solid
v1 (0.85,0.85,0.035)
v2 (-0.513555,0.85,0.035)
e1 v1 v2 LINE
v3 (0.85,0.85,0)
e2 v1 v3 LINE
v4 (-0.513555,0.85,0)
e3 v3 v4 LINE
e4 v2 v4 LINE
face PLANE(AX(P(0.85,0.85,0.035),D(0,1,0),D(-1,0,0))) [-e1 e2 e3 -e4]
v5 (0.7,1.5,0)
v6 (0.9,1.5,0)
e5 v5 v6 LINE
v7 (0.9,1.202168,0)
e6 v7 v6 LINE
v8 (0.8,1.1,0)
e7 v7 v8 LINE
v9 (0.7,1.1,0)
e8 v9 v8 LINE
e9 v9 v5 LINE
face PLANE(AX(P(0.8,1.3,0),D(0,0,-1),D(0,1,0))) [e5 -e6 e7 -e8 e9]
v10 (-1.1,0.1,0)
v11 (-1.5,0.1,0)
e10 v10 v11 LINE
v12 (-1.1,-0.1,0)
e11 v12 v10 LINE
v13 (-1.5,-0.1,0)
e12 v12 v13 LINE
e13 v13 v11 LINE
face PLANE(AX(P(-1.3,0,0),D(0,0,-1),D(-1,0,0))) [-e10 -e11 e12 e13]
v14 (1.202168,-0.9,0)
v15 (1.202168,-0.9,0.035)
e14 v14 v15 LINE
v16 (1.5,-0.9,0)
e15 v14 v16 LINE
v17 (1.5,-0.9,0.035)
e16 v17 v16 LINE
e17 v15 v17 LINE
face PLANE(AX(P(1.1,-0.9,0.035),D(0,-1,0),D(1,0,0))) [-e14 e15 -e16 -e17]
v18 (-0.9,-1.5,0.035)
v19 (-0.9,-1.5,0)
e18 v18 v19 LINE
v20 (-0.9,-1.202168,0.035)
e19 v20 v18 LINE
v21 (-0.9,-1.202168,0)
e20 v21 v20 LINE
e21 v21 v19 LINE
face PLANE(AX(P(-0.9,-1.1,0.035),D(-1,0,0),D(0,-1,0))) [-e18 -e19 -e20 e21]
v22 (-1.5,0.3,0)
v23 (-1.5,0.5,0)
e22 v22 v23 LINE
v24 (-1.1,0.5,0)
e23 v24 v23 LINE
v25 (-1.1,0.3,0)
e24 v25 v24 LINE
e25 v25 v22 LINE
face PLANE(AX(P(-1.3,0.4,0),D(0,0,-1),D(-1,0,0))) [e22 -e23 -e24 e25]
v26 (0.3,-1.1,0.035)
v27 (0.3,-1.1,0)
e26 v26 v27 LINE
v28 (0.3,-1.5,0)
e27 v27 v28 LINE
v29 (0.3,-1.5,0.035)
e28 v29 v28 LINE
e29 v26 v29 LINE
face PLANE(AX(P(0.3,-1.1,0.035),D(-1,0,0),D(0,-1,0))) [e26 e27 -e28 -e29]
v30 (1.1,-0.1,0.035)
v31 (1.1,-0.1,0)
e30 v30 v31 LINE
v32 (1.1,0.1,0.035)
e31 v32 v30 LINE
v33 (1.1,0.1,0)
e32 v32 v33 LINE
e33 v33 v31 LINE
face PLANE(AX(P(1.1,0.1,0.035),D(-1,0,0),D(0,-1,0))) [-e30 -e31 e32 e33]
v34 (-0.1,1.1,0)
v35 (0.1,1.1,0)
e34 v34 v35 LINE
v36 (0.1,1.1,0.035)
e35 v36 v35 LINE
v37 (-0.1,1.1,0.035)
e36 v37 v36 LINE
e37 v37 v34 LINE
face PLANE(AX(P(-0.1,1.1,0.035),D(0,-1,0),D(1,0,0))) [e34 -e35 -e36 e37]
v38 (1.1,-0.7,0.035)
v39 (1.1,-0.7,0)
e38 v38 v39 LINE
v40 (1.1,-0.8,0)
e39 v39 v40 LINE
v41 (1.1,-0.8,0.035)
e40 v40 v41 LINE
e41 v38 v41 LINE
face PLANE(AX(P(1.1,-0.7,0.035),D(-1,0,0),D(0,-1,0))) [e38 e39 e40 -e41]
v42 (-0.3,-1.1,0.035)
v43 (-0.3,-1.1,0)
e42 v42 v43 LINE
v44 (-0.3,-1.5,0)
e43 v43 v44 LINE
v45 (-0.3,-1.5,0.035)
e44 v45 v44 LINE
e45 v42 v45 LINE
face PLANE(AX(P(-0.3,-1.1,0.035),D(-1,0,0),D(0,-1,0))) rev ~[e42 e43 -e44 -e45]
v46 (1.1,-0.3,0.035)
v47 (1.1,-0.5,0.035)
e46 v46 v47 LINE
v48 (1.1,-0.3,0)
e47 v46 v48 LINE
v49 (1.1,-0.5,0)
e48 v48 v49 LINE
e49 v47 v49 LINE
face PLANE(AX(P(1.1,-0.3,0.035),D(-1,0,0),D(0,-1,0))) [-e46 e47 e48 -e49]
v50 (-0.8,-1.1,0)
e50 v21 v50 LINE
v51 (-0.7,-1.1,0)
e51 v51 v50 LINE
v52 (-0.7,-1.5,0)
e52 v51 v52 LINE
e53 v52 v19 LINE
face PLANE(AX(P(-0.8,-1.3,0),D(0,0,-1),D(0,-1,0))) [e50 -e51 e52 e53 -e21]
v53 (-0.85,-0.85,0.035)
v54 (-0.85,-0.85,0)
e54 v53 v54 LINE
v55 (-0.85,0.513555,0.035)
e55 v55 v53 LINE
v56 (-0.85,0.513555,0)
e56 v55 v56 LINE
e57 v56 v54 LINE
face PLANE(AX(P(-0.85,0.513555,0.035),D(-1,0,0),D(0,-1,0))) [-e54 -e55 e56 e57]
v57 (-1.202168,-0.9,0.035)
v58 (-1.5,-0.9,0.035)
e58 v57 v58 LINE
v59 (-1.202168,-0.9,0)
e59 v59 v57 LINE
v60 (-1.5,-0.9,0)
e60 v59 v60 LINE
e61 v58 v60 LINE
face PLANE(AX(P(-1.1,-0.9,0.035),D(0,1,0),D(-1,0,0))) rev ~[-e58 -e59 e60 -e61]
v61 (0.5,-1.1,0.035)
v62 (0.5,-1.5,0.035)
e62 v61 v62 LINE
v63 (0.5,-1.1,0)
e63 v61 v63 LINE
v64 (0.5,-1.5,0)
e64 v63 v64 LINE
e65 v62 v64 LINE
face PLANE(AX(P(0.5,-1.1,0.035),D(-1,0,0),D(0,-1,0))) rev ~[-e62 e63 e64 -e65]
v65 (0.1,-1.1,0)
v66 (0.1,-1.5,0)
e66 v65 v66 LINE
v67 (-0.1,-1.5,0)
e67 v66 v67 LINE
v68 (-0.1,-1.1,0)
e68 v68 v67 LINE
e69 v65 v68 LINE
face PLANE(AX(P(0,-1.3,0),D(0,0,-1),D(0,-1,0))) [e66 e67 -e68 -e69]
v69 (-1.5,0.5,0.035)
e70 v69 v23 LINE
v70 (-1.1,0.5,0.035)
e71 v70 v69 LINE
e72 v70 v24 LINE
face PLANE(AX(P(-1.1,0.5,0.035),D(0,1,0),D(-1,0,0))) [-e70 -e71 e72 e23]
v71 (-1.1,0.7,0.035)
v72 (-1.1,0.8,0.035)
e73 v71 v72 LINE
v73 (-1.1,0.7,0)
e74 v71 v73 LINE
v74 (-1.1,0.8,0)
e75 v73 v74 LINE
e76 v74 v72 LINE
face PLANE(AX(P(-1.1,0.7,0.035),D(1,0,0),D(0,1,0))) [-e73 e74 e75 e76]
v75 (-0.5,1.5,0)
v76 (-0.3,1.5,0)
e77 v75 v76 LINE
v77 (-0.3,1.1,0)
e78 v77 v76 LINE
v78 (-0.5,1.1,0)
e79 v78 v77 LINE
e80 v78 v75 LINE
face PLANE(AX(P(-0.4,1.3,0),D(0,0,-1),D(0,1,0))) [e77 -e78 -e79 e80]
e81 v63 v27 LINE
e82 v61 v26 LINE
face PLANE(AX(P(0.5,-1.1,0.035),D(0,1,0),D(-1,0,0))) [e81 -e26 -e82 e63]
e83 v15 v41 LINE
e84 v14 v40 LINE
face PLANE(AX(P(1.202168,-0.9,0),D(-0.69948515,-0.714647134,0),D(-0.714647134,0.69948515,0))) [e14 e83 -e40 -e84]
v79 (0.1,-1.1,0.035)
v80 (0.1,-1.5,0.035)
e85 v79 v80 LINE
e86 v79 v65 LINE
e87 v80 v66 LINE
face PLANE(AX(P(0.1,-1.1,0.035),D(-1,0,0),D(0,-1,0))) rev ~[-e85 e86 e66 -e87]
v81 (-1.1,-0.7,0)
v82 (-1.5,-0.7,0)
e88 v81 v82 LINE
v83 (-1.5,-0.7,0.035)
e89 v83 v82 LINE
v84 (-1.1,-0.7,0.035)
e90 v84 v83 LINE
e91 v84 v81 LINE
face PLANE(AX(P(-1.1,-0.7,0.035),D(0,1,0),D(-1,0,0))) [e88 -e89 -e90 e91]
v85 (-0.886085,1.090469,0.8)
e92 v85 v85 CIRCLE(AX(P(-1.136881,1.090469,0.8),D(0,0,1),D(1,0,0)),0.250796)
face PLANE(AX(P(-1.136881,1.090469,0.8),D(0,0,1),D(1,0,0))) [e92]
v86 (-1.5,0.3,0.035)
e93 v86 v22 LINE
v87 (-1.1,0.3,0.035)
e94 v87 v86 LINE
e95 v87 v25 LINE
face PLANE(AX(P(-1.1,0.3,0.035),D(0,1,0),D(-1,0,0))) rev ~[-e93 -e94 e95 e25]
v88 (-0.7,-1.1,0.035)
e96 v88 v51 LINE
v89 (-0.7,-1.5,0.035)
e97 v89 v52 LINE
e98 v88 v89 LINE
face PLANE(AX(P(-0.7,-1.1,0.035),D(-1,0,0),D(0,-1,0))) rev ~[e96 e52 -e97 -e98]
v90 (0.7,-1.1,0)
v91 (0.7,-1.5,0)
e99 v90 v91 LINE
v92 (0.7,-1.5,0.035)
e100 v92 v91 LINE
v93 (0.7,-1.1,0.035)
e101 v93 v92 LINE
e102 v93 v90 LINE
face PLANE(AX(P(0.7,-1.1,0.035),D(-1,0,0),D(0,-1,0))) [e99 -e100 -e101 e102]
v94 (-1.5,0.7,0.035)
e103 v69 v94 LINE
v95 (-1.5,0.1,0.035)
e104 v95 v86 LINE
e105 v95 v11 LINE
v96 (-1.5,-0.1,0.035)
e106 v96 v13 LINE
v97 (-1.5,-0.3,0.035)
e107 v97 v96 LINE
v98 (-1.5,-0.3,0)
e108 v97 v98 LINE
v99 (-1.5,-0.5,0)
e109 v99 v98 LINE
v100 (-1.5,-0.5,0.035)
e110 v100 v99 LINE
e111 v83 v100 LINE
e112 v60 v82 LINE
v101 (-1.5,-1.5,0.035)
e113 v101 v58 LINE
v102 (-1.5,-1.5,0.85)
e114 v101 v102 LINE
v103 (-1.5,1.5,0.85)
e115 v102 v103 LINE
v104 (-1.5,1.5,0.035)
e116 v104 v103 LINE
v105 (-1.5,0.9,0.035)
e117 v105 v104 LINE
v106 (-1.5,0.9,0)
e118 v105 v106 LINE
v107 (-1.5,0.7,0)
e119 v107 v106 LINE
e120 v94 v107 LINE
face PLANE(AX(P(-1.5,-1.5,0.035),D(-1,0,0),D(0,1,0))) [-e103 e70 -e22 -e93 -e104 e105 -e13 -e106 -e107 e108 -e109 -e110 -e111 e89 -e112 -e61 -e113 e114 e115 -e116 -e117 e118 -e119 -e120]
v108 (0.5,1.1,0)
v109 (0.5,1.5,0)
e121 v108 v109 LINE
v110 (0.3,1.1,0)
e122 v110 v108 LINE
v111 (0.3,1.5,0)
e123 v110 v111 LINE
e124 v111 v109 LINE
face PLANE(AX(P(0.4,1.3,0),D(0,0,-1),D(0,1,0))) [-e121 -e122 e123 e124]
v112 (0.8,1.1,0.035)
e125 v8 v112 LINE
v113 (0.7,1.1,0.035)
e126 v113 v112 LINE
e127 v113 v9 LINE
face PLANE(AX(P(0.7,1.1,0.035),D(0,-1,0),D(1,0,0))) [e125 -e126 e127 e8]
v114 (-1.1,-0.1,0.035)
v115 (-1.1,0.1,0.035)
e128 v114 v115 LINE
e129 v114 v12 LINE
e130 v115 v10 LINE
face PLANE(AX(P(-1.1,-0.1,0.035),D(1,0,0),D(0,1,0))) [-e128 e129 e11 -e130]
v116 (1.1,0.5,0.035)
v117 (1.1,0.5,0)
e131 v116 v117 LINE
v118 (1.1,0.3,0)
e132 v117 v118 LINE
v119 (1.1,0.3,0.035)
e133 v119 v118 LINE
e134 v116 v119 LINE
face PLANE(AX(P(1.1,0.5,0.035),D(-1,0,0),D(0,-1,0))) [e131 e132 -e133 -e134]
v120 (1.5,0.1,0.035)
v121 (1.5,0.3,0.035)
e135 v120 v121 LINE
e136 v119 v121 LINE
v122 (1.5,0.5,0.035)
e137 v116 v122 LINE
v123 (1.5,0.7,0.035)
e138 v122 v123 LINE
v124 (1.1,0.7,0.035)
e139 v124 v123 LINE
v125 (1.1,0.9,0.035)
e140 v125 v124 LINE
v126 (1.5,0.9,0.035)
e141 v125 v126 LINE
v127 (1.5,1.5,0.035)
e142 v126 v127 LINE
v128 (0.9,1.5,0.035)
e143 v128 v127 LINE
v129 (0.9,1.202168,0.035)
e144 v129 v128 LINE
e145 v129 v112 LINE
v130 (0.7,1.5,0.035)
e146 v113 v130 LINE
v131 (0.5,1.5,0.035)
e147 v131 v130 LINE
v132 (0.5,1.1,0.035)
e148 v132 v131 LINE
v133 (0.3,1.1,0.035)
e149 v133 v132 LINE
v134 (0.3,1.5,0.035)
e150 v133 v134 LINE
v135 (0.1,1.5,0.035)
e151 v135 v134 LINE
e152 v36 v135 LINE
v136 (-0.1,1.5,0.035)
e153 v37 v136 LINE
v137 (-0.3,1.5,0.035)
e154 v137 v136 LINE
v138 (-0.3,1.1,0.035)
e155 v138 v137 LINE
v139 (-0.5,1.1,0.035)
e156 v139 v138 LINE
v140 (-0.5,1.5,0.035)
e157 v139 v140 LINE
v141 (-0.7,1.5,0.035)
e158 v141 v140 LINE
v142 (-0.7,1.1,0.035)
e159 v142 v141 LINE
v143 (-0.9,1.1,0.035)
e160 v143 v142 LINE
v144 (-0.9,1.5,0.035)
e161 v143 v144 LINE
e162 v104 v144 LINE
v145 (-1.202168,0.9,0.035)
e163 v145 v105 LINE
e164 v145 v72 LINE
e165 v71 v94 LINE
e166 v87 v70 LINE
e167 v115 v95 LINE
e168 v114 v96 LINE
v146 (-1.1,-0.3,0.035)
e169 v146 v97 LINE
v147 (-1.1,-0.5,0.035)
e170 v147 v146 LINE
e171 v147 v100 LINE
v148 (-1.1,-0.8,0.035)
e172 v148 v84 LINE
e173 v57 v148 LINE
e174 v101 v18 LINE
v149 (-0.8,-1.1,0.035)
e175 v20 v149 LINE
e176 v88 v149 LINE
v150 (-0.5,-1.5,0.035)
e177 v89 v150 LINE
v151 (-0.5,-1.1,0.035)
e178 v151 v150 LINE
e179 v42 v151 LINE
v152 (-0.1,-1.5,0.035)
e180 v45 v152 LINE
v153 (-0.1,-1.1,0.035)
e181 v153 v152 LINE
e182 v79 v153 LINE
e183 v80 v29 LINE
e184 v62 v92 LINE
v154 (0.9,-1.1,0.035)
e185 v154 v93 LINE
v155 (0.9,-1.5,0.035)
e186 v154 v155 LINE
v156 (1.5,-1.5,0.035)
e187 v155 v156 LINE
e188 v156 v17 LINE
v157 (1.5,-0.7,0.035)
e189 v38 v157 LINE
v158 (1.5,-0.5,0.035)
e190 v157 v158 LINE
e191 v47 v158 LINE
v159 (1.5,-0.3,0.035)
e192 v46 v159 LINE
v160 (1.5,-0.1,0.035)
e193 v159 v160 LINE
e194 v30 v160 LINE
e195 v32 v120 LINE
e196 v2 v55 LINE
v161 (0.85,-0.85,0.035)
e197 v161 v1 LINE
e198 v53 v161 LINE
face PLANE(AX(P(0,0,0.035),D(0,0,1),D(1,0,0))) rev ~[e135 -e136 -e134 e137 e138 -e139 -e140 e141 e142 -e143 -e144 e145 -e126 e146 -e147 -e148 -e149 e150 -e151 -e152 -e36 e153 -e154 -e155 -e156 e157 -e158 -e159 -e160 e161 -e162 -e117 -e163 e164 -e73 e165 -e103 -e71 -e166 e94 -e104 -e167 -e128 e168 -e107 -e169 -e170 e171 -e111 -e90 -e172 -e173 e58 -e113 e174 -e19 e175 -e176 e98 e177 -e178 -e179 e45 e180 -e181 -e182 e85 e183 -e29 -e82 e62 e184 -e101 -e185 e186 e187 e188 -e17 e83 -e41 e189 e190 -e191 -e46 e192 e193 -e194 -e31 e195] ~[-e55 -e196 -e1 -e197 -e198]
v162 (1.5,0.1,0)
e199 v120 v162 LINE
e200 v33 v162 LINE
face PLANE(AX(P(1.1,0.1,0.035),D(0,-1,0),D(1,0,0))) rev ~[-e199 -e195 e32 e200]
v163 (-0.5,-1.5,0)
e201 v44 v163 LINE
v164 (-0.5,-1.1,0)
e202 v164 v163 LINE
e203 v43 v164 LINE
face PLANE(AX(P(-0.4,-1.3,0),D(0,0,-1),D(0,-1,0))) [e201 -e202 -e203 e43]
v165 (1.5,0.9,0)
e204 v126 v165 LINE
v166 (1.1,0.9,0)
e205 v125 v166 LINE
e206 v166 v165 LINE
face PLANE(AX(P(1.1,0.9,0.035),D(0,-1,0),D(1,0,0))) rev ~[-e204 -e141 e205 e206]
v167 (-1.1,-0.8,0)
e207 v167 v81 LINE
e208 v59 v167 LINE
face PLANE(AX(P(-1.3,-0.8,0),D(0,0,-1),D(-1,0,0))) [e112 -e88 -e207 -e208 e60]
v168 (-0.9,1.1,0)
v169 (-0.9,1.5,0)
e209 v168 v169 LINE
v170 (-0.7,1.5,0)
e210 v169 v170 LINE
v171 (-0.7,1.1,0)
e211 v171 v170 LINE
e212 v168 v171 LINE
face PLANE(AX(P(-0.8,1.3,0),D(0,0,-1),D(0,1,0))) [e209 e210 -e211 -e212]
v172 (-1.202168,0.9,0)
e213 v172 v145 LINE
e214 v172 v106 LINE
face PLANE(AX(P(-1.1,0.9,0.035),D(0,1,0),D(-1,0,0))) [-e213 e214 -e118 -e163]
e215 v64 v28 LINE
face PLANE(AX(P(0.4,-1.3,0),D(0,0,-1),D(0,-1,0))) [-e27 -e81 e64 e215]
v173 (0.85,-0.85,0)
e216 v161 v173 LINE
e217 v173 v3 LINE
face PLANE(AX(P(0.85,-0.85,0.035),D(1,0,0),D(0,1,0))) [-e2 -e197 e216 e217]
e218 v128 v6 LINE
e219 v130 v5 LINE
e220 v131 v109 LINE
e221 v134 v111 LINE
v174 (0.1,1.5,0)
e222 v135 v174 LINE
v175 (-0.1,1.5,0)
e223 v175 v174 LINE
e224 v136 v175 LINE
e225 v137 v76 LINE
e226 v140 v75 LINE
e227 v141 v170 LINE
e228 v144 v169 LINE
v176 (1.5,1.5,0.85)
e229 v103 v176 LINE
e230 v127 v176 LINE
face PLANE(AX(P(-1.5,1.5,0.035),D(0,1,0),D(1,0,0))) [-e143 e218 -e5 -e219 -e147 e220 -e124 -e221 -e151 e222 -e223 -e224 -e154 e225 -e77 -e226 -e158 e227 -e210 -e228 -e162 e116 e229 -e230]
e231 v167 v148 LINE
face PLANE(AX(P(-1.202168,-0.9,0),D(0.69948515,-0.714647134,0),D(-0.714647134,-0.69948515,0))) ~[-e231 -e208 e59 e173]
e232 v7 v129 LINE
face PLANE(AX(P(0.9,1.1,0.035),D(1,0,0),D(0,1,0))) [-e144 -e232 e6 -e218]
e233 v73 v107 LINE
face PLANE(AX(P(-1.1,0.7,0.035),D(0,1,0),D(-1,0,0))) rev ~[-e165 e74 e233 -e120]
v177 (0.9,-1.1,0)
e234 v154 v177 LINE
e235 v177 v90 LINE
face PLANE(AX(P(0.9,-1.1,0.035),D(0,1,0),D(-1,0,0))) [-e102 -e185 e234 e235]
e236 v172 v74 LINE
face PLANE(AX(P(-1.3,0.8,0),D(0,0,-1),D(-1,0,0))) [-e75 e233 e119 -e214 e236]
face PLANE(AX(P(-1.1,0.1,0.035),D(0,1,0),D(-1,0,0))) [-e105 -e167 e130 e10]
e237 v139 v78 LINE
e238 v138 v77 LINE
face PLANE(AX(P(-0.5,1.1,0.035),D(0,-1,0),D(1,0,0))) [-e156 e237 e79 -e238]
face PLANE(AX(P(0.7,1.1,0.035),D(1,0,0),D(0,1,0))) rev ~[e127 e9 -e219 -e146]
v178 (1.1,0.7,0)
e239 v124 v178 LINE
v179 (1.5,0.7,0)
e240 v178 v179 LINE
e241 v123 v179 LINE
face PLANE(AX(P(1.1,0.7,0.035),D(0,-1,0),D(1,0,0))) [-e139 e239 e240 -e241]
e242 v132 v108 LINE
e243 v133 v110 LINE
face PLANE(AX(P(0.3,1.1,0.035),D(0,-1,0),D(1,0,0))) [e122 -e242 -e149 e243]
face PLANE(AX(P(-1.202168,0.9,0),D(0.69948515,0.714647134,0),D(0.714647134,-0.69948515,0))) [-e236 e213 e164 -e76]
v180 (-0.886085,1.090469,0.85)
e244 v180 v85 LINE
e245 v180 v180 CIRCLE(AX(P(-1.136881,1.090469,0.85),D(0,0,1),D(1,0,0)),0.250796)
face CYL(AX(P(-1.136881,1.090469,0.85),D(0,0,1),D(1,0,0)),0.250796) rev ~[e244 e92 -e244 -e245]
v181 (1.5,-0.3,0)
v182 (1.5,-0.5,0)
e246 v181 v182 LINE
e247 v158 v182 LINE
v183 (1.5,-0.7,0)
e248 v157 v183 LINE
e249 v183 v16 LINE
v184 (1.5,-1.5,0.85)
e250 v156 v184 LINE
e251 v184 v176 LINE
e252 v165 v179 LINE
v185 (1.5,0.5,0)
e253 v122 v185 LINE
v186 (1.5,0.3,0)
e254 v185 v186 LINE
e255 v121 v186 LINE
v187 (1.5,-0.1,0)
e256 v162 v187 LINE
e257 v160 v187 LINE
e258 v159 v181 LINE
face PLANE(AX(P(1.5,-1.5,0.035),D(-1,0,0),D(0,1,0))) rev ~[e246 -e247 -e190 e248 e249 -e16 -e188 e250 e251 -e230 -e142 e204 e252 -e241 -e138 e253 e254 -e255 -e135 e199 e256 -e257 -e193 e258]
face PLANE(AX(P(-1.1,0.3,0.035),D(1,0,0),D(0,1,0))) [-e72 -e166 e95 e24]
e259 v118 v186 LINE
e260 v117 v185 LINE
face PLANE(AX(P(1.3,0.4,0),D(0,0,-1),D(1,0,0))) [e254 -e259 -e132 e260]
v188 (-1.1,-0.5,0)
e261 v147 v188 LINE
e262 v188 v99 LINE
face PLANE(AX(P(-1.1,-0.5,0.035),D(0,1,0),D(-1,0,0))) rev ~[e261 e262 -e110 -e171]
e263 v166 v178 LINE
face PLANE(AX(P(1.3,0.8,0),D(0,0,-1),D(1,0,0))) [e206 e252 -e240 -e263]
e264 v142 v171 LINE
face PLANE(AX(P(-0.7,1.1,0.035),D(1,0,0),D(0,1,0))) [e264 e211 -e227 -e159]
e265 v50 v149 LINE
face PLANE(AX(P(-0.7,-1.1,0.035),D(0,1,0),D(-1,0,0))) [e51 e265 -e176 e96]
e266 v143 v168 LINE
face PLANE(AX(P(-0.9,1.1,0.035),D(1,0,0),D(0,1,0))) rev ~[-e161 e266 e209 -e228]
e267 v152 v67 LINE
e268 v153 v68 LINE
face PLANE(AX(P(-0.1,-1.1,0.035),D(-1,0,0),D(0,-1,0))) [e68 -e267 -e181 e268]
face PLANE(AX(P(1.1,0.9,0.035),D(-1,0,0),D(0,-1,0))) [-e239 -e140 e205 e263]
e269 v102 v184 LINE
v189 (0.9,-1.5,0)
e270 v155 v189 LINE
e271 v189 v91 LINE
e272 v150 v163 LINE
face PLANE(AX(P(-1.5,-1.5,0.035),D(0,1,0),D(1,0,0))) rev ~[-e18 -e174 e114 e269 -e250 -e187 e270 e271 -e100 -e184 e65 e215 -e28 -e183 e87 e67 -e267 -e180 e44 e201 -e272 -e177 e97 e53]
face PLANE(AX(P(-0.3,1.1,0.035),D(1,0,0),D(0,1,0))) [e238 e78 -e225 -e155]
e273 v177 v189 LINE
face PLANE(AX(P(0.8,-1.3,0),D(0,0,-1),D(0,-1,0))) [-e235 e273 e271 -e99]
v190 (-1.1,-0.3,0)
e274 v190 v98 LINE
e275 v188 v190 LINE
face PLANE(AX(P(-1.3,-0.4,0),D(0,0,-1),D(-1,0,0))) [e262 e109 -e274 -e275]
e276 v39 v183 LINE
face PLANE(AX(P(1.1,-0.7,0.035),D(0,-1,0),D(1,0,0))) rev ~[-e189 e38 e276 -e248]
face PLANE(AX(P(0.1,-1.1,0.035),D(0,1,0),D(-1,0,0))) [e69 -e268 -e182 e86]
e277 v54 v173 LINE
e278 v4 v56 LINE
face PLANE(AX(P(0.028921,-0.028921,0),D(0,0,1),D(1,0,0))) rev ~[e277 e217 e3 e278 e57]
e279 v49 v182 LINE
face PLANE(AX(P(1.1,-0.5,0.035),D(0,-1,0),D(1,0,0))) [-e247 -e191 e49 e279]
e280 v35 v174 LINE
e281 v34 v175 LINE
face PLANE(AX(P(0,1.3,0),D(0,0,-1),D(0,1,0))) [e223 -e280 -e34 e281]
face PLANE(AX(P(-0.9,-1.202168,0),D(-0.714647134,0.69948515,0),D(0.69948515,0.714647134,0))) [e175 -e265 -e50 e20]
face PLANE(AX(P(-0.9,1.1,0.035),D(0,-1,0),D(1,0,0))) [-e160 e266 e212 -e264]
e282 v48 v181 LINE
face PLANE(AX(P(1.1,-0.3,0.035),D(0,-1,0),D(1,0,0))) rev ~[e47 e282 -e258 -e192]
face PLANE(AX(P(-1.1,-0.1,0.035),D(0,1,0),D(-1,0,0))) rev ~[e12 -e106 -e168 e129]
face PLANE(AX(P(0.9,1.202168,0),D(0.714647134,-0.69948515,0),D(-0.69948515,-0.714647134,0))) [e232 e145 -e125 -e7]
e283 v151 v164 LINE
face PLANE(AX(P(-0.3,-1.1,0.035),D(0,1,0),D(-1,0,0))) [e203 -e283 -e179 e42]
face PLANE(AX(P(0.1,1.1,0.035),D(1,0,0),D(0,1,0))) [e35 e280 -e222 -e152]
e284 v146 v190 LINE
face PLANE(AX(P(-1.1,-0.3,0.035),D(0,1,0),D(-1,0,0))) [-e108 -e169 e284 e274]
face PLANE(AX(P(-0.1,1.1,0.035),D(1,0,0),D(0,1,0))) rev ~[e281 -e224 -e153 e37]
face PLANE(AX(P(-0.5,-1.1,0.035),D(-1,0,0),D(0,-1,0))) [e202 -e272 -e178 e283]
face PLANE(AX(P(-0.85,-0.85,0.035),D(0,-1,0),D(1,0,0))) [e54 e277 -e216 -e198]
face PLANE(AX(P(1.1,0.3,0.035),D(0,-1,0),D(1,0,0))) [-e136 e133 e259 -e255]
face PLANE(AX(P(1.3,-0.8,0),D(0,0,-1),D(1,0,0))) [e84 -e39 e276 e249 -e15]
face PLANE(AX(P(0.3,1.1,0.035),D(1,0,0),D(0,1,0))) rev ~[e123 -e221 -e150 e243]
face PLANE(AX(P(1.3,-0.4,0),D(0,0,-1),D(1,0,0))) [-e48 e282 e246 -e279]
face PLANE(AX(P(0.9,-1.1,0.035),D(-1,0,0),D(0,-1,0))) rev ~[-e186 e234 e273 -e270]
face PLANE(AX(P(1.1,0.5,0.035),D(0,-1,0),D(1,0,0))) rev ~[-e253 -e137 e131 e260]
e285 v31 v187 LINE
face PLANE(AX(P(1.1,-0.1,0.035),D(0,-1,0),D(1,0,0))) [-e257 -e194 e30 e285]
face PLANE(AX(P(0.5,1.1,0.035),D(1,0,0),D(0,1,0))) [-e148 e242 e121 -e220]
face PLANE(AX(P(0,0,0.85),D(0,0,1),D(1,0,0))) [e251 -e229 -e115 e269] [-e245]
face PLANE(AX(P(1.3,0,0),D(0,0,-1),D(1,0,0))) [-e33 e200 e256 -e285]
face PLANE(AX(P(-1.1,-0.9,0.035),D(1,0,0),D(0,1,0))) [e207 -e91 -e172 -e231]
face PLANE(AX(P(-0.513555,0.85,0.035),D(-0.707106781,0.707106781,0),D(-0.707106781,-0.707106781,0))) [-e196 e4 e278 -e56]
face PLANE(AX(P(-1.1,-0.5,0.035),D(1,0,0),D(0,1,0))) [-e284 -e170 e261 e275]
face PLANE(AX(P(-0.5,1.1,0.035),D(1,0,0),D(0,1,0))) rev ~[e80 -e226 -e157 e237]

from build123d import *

# Parameters (mm, degrees)
BOSS_EXTRUDE1_START          = 0.035
SKETCH1_W                    = 3
SKETCH1_H                    = 3
BOSS_EXTRUDE1_DEPTH          = 0.815
SKETCH2_R                    = 0.250796372
CUT_EXTRUDE3_DEPTH           = 0.05
SKETCH3_W                    = 0.4
SKETCH3_H                    = 0.2
BOSS_EXTRUDE2_DEPTH          = 0.035
LPATTERN1_COUNT              = 5
LPATTERN1_PITCH              = 0.4
CUT_EXTRUDE4_DEPTH           = 0.035
CIRPATTERN1_COUNT            = 4
CIRPATTERN1_COPY_1_SKETCH_W  = 0.4
CIRPATTERN1_COPY_1_SKETCH_H  = 0.2
CIRPATTERN1_COPY_1_DEPTH     = 0.035
CIRPATTERN1_COPY_2_SKETCH_W  = 0.4
CIRPATTERN1_COPY_2_SKETCH_H  = 0.2
CIRPATTERN1_COPY_2_DEPTH     = 0.035
CIRPATTERN1_COPY_3_SKETCH_W  = 0.4
CIRPATTERN1_COPY_3_SKETCH_H  = 0.2
CIRPATTERN1_COPY_3_DEPTH     = 0.035
CIRPATTERN1_COPY_4_SKETCH_W  = 0.4
CIRPATTERN1_COPY_4_SKETCH_H  = 0.2
CIRPATTERN1_COPY_4_DEPTH     = 0.035
CIRPATTERN1_COPY_5_SKETCH_W  = 0.4
CIRPATTERN1_COPY_5_SKETCH_H  = 0.2
CIRPATTERN1_COPY_5_DEPTH     = 0.035
CIRPATTERN1_COPY_6_SKETCH_W  = 0.4
CIRPATTERN1_COPY_6_SKETCH_H  = 0.2
CIRPATTERN1_COPY_6_DEPTH     = 0.035
CIRPATTERN1_COPY_7_SKETCH_W  = 0.4
CIRPATTERN1_COPY_7_SKETCH_H  = 0.2
CIRPATTERN1_COPY_7_DEPTH     = 0.035
CIRPATTERN1_COPY_8_SKETCH_W  = 0.4
CIRPATTERN1_COPY_8_SKETCH_H  = 0.2
CIRPATTERN1_COPY_8_DEPTH     = 0.035
CIRPATTERN1_COPY_9_SKETCH_W  = 0.4
CIRPATTERN1_COPY_9_SKETCH_H  = 0.2
CIRPATTERN1_COPY_9_DEPTH     = 0.035
CIRPATTERN1_COPY_10_SKETCH_W = 0.4
CIRPATTERN1_COPY_10_SKETCH_H = 0.2
CIRPATTERN1_COPY_10_DEPTH    = 0.035
CIRPATTERN1_COPY_11_SKETCH_W = 0.4
CIRPATTERN1_COPY_11_SKETCH_H = 0.2
CIRPATTERN1_COPY_11_DEPTH    = 0.035
CIRPATTERN1_COPY_12_SKETCH_W = 0.4
CIRPATTERN1_COPY_12_SKETCH_H = 0.2
CIRPATTERN1_COPY_12_DEPTH    = 0.035
BOSS_EXTRUDE3_DEPTH          = 0.035


with BuildPart() as part:
    # Sketch1 → Boss-Extrude1 (new body)
    with BuildSketch(Plane.XY.offset(BOSS_EXTRUDE1_START)):
        Rectangle(SKETCH1_W, SKETCH1_H)
    extrude(amount=BOSS_EXTRUDE1_DEPTH)

    # Sketch2 → Cut-Extrude3 (cut)
    with BuildSketch(Plane.XY.offset(0.85)):
        with Locations((-1.136881167, 1.09046913)):
            Circle(SKETCH2_R)
    extrude(amount=-CUT_EXTRUDE3_DEPTH, mode=Mode.SUBTRACT)

    # Sketch3 → Boss-Extrude2 (add)
    with BuildSketch(Plane(origin=(0, 0, 0.035), x_dir=(-1, 0, 0), z_dir=(0, 0, -1))):
        with Locations((1.3, 0.8)):
            Rectangle(SKETCH3_W, SKETCH3_H)
    boss_extrude2 = extrude(amount=BOSS_EXTRUDE2_DEPTH)

    # LPattern1: Boss-Extrude2 ×5
    with Locations(*[(0, -i * LPATTERN1_PITCH, 0) for i in range(1, LPATTERN1_COUNT)]):
        add(boss_extrude2)

    # Sketch4 → Cut-Extrude4 (cut)
    with BuildSketch(Plane(origin=(0, 0, 0), x_dir=(-1, 0, 0), z_dir=(0, 0, -1))):
        Polygon((1.202167592, 0.9), (1.1, 0.8), (1.1, 0.9), align=None)
    cut_extrude4 = extrude(amount=-CUT_EXTRUDE4_DEPTH, mode=Mode.SUBTRACT)

    # Mirror1: Cut-Extrude4 across plane
    add(cut_extrude4.mirror(Plane.ZX), mode=Mode.SUBTRACT)

    # CirPattern1: Boss-Extrude2, Cut-Extrude4 ×4 about axis
    cirpattern1_axis = Axis((0, 0, 0), (0, 0, 1))
    add([boss_extrude2.rotate(cirpattern1_axis, i * 360 / CIRPATTERN1_COUNT) for i in range(1, CIRPATTERN1_COUNT)])
    add([cut_extrude4.rotate(cirpattern1_axis, i * 360 / CIRPATTERN1_COUNT) for i in range(1, CIRPATTERN1_COUNT)], mode=Mode.SUBTRACT)

    # CirPattern1 copy 1 sketch → CirPattern1 copy 1 (add)
    with BuildSketch(Plane(origin=(0.4, 0, 0.035), x_dir=(0, -1, 0), z_dir=(0, 0, -1))):
        with Locations((1.3, 0.8)):
            Rectangle(CIRPATTERN1_COPY_1_SKETCH_W, CIRPATTERN1_COPY_1_SKETCH_H)
    extrude(amount=CIRPATTERN1_COPY_1_DEPTH)

    # CirPattern1 copy 2 sketch → CirPattern1 copy 2 (add)
    with BuildSketch(Plane(origin=(0, 0.4, 0.035), x_dir=(1, 0, 0), z_dir=(0, 0, -1))):
        with Locations((1.3, 0.8)):
            Rectangle(CIRPATTERN1_COPY_2_SKETCH_W, CIRPATTERN1_COPY_2_SKETCH_H)
    extrude(amount=CIRPATTERN1_COPY_2_DEPTH)

    # CirPattern1 copy 3 sketch → CirPattern1 copy 3 (add)
    with BuildSketch(Plane(origin=(-0.4, 0, 0.035), x_dir=(0, 1, 0), z_dir=(0, 0, -1))):
        with Locations((1.3, 0.8)):
            Rectangle(CIRPATTERN1_COPY_3_SKETCH_W, CIRPATTERN1_COPY_3_SKETCH_H)
    extrude(amount=CIRPATTERN1_COPY_3_DEPTH)

    # CirPattern1 copy 4 sketch → CirPattern1 copy 4 (add)
    with BuildSketch(Plane(origin=(0.8, 0, 0.035), x_dir=(0, -1, 0), z_dir=(0, 0, -1))):
        with Locations((1.3, 0.8)):
            Rectangle(CIRPATTERN1_COPY_4_SKETCH_W, CIRPATTERN1_COPY_4_SKETCH_H)
    extrude(amount=CIRPATTERN1_COPY_4_DEPTH)

    # CirPattern1 copy 5 sketch → CirPattern1 copy 5 (add)
    with BuildSketch(Plane(origin=(0, 0.8, 0.035), x_dir=(1, 0, 0), z_dir=(0, 0, -1))):
        with Locations((1.3, 0.8)):
            Rectangle(CIRPATTERN1_COPY_5_SKETCH_W, CIRPATTERN1_COPY_5_SKETCH_H)
    extrude(amount=CIRPATTERN1_COPY_5_DEPTH)

    # CirPattern1 copy 6 sketch → CirPattern1 copy 6 (add)
    with BuildSketch(Plane(origin=(-0.8, 0, 0.035), x_dir=(0, 1, 0), z_dir=(0, 0, -1))):
        with Locations((1.3, 0.8)):
            Rectangle(CIRPATTERN1_COPY_6_SKETCH_W, CIRPATTERN1_COPY_6_SKETCH_H)
    extrude(amount=CIRPATTERN1_COPY_6_DEPTH)

    # CirPattern1 copy 7 sketch → CirPattern1 copy 7 (add)
    with BuildSketch(Plane(origin=(1.2, 0, 0.035), x_dir=(0, -1, 0), z_dir=(0, 0, -1))):
        with Locations((1.3, 0.8)):
            Rectangle(CIRPATTERN1_COPY_7_SKETCH_W, CIRPATTERN1_COPY_7_SKETCH_H)
    extrude(amount=CIRPATTERN1_COPY_7_DEPTH)

    # CirPattern1 copy 8 sketch → CirPattern1 copy 8 (add)
    with BuildSketch(Plane(origin=(0, 1.2, 0.035), x_dir=(1, 0, 0), z_dir=(0, 0, -1))):
        with Locations((1.3, 0.8)):
            Rectangle(CIRPATTERN1_COPY_8_SKETCH_W, CIRPATTERN1_COPY_8_SKETCH_H)
    extrude(amount=CIRPATTERN1_COPY_8_DEPTH)

    # CirPattern1 copy 9 sketch → CirPattern1 copy 9 (add)
    with BuildSketch(Plane(origin=(-1.2, 0, 0.035), x_dir=(0, 1, 0), z_dir=(0, 0, -1))):
        with Locations((1.3, 0.8)):
            Rectangle(CIRPATTERN1_COPY_9_SKETCH_W, CIRPATTERN1_COPY_9_SKETCH_H)
    extrude(amount=CIRPATTERN1_COPY_9_DEPTH)

    # CirPattern1 copy 10 sketch → CirPattern1 copy 10 (add)
    with BuildSketch(Plane(origin=(1.6, 0, 0.035), x_dir=(0, -1, 0), z_dir=(0, 0, -1))):
        with Locations((1.3, 0.8)):
            Rectangle(CIRPATTERN1_COPY_10_SKETCH_W, CIRPATTERN1_COPY_10_SKETCH_H)
    extrude(amount=CIRPATTERN1_COPY_10_DEPTH)

    # CirPattern1 copy 11 sketch → CirPattern1 copy 11 (add)
    with BuildSketch(Plane(origin=(0, 1.6, 0.035), x_dir=(1, 0, 0), z_dir=(0, 0, -1))):
        with Locations((1.3, 0.8)):
            Rectangle(CIRPATTERN1_COPY_11_SKETCH_W, CIRPATTERN1_COPY_11_SKETCH_H)
    extrude(amount=CIRPATTERN1_COPY_11_DEPTH)

    # CirPattern1 copy 12 sketch → CirPattern1 copy 12 (add)
    with BuildSketch(Plane(origin=(-1.6, 0, 0.035), x_dir=(0, 1, 0), z_dir=(0, 0, -1))):
        with Locations((1.3, 0.8)):
            Rectangle(CIRPATTERN1_COPY_12_SKETCH_W, CIRPATTERN1_COPY_12_SKETCH_H)
    extrude(amount=CIRPATTERN1_COPY_12_DEPTH)

    # Sketch5 → Boss-Extrude3 (add)
    with BuildSketch(Plane(origin=(0, 0, 0.035), x_dir=(-1, 0, 0), z_dir=(0, 0, -1))):
        Polygon((0.513555447, 0.85), (0.85, 0.513555447), (0.85, -0.85), (-0.85, -0.85), (-0.85, 0.85), align=None)
    extrude(amount=BOSS_EXTRUDE3_DEPTH)


solid = part.part
